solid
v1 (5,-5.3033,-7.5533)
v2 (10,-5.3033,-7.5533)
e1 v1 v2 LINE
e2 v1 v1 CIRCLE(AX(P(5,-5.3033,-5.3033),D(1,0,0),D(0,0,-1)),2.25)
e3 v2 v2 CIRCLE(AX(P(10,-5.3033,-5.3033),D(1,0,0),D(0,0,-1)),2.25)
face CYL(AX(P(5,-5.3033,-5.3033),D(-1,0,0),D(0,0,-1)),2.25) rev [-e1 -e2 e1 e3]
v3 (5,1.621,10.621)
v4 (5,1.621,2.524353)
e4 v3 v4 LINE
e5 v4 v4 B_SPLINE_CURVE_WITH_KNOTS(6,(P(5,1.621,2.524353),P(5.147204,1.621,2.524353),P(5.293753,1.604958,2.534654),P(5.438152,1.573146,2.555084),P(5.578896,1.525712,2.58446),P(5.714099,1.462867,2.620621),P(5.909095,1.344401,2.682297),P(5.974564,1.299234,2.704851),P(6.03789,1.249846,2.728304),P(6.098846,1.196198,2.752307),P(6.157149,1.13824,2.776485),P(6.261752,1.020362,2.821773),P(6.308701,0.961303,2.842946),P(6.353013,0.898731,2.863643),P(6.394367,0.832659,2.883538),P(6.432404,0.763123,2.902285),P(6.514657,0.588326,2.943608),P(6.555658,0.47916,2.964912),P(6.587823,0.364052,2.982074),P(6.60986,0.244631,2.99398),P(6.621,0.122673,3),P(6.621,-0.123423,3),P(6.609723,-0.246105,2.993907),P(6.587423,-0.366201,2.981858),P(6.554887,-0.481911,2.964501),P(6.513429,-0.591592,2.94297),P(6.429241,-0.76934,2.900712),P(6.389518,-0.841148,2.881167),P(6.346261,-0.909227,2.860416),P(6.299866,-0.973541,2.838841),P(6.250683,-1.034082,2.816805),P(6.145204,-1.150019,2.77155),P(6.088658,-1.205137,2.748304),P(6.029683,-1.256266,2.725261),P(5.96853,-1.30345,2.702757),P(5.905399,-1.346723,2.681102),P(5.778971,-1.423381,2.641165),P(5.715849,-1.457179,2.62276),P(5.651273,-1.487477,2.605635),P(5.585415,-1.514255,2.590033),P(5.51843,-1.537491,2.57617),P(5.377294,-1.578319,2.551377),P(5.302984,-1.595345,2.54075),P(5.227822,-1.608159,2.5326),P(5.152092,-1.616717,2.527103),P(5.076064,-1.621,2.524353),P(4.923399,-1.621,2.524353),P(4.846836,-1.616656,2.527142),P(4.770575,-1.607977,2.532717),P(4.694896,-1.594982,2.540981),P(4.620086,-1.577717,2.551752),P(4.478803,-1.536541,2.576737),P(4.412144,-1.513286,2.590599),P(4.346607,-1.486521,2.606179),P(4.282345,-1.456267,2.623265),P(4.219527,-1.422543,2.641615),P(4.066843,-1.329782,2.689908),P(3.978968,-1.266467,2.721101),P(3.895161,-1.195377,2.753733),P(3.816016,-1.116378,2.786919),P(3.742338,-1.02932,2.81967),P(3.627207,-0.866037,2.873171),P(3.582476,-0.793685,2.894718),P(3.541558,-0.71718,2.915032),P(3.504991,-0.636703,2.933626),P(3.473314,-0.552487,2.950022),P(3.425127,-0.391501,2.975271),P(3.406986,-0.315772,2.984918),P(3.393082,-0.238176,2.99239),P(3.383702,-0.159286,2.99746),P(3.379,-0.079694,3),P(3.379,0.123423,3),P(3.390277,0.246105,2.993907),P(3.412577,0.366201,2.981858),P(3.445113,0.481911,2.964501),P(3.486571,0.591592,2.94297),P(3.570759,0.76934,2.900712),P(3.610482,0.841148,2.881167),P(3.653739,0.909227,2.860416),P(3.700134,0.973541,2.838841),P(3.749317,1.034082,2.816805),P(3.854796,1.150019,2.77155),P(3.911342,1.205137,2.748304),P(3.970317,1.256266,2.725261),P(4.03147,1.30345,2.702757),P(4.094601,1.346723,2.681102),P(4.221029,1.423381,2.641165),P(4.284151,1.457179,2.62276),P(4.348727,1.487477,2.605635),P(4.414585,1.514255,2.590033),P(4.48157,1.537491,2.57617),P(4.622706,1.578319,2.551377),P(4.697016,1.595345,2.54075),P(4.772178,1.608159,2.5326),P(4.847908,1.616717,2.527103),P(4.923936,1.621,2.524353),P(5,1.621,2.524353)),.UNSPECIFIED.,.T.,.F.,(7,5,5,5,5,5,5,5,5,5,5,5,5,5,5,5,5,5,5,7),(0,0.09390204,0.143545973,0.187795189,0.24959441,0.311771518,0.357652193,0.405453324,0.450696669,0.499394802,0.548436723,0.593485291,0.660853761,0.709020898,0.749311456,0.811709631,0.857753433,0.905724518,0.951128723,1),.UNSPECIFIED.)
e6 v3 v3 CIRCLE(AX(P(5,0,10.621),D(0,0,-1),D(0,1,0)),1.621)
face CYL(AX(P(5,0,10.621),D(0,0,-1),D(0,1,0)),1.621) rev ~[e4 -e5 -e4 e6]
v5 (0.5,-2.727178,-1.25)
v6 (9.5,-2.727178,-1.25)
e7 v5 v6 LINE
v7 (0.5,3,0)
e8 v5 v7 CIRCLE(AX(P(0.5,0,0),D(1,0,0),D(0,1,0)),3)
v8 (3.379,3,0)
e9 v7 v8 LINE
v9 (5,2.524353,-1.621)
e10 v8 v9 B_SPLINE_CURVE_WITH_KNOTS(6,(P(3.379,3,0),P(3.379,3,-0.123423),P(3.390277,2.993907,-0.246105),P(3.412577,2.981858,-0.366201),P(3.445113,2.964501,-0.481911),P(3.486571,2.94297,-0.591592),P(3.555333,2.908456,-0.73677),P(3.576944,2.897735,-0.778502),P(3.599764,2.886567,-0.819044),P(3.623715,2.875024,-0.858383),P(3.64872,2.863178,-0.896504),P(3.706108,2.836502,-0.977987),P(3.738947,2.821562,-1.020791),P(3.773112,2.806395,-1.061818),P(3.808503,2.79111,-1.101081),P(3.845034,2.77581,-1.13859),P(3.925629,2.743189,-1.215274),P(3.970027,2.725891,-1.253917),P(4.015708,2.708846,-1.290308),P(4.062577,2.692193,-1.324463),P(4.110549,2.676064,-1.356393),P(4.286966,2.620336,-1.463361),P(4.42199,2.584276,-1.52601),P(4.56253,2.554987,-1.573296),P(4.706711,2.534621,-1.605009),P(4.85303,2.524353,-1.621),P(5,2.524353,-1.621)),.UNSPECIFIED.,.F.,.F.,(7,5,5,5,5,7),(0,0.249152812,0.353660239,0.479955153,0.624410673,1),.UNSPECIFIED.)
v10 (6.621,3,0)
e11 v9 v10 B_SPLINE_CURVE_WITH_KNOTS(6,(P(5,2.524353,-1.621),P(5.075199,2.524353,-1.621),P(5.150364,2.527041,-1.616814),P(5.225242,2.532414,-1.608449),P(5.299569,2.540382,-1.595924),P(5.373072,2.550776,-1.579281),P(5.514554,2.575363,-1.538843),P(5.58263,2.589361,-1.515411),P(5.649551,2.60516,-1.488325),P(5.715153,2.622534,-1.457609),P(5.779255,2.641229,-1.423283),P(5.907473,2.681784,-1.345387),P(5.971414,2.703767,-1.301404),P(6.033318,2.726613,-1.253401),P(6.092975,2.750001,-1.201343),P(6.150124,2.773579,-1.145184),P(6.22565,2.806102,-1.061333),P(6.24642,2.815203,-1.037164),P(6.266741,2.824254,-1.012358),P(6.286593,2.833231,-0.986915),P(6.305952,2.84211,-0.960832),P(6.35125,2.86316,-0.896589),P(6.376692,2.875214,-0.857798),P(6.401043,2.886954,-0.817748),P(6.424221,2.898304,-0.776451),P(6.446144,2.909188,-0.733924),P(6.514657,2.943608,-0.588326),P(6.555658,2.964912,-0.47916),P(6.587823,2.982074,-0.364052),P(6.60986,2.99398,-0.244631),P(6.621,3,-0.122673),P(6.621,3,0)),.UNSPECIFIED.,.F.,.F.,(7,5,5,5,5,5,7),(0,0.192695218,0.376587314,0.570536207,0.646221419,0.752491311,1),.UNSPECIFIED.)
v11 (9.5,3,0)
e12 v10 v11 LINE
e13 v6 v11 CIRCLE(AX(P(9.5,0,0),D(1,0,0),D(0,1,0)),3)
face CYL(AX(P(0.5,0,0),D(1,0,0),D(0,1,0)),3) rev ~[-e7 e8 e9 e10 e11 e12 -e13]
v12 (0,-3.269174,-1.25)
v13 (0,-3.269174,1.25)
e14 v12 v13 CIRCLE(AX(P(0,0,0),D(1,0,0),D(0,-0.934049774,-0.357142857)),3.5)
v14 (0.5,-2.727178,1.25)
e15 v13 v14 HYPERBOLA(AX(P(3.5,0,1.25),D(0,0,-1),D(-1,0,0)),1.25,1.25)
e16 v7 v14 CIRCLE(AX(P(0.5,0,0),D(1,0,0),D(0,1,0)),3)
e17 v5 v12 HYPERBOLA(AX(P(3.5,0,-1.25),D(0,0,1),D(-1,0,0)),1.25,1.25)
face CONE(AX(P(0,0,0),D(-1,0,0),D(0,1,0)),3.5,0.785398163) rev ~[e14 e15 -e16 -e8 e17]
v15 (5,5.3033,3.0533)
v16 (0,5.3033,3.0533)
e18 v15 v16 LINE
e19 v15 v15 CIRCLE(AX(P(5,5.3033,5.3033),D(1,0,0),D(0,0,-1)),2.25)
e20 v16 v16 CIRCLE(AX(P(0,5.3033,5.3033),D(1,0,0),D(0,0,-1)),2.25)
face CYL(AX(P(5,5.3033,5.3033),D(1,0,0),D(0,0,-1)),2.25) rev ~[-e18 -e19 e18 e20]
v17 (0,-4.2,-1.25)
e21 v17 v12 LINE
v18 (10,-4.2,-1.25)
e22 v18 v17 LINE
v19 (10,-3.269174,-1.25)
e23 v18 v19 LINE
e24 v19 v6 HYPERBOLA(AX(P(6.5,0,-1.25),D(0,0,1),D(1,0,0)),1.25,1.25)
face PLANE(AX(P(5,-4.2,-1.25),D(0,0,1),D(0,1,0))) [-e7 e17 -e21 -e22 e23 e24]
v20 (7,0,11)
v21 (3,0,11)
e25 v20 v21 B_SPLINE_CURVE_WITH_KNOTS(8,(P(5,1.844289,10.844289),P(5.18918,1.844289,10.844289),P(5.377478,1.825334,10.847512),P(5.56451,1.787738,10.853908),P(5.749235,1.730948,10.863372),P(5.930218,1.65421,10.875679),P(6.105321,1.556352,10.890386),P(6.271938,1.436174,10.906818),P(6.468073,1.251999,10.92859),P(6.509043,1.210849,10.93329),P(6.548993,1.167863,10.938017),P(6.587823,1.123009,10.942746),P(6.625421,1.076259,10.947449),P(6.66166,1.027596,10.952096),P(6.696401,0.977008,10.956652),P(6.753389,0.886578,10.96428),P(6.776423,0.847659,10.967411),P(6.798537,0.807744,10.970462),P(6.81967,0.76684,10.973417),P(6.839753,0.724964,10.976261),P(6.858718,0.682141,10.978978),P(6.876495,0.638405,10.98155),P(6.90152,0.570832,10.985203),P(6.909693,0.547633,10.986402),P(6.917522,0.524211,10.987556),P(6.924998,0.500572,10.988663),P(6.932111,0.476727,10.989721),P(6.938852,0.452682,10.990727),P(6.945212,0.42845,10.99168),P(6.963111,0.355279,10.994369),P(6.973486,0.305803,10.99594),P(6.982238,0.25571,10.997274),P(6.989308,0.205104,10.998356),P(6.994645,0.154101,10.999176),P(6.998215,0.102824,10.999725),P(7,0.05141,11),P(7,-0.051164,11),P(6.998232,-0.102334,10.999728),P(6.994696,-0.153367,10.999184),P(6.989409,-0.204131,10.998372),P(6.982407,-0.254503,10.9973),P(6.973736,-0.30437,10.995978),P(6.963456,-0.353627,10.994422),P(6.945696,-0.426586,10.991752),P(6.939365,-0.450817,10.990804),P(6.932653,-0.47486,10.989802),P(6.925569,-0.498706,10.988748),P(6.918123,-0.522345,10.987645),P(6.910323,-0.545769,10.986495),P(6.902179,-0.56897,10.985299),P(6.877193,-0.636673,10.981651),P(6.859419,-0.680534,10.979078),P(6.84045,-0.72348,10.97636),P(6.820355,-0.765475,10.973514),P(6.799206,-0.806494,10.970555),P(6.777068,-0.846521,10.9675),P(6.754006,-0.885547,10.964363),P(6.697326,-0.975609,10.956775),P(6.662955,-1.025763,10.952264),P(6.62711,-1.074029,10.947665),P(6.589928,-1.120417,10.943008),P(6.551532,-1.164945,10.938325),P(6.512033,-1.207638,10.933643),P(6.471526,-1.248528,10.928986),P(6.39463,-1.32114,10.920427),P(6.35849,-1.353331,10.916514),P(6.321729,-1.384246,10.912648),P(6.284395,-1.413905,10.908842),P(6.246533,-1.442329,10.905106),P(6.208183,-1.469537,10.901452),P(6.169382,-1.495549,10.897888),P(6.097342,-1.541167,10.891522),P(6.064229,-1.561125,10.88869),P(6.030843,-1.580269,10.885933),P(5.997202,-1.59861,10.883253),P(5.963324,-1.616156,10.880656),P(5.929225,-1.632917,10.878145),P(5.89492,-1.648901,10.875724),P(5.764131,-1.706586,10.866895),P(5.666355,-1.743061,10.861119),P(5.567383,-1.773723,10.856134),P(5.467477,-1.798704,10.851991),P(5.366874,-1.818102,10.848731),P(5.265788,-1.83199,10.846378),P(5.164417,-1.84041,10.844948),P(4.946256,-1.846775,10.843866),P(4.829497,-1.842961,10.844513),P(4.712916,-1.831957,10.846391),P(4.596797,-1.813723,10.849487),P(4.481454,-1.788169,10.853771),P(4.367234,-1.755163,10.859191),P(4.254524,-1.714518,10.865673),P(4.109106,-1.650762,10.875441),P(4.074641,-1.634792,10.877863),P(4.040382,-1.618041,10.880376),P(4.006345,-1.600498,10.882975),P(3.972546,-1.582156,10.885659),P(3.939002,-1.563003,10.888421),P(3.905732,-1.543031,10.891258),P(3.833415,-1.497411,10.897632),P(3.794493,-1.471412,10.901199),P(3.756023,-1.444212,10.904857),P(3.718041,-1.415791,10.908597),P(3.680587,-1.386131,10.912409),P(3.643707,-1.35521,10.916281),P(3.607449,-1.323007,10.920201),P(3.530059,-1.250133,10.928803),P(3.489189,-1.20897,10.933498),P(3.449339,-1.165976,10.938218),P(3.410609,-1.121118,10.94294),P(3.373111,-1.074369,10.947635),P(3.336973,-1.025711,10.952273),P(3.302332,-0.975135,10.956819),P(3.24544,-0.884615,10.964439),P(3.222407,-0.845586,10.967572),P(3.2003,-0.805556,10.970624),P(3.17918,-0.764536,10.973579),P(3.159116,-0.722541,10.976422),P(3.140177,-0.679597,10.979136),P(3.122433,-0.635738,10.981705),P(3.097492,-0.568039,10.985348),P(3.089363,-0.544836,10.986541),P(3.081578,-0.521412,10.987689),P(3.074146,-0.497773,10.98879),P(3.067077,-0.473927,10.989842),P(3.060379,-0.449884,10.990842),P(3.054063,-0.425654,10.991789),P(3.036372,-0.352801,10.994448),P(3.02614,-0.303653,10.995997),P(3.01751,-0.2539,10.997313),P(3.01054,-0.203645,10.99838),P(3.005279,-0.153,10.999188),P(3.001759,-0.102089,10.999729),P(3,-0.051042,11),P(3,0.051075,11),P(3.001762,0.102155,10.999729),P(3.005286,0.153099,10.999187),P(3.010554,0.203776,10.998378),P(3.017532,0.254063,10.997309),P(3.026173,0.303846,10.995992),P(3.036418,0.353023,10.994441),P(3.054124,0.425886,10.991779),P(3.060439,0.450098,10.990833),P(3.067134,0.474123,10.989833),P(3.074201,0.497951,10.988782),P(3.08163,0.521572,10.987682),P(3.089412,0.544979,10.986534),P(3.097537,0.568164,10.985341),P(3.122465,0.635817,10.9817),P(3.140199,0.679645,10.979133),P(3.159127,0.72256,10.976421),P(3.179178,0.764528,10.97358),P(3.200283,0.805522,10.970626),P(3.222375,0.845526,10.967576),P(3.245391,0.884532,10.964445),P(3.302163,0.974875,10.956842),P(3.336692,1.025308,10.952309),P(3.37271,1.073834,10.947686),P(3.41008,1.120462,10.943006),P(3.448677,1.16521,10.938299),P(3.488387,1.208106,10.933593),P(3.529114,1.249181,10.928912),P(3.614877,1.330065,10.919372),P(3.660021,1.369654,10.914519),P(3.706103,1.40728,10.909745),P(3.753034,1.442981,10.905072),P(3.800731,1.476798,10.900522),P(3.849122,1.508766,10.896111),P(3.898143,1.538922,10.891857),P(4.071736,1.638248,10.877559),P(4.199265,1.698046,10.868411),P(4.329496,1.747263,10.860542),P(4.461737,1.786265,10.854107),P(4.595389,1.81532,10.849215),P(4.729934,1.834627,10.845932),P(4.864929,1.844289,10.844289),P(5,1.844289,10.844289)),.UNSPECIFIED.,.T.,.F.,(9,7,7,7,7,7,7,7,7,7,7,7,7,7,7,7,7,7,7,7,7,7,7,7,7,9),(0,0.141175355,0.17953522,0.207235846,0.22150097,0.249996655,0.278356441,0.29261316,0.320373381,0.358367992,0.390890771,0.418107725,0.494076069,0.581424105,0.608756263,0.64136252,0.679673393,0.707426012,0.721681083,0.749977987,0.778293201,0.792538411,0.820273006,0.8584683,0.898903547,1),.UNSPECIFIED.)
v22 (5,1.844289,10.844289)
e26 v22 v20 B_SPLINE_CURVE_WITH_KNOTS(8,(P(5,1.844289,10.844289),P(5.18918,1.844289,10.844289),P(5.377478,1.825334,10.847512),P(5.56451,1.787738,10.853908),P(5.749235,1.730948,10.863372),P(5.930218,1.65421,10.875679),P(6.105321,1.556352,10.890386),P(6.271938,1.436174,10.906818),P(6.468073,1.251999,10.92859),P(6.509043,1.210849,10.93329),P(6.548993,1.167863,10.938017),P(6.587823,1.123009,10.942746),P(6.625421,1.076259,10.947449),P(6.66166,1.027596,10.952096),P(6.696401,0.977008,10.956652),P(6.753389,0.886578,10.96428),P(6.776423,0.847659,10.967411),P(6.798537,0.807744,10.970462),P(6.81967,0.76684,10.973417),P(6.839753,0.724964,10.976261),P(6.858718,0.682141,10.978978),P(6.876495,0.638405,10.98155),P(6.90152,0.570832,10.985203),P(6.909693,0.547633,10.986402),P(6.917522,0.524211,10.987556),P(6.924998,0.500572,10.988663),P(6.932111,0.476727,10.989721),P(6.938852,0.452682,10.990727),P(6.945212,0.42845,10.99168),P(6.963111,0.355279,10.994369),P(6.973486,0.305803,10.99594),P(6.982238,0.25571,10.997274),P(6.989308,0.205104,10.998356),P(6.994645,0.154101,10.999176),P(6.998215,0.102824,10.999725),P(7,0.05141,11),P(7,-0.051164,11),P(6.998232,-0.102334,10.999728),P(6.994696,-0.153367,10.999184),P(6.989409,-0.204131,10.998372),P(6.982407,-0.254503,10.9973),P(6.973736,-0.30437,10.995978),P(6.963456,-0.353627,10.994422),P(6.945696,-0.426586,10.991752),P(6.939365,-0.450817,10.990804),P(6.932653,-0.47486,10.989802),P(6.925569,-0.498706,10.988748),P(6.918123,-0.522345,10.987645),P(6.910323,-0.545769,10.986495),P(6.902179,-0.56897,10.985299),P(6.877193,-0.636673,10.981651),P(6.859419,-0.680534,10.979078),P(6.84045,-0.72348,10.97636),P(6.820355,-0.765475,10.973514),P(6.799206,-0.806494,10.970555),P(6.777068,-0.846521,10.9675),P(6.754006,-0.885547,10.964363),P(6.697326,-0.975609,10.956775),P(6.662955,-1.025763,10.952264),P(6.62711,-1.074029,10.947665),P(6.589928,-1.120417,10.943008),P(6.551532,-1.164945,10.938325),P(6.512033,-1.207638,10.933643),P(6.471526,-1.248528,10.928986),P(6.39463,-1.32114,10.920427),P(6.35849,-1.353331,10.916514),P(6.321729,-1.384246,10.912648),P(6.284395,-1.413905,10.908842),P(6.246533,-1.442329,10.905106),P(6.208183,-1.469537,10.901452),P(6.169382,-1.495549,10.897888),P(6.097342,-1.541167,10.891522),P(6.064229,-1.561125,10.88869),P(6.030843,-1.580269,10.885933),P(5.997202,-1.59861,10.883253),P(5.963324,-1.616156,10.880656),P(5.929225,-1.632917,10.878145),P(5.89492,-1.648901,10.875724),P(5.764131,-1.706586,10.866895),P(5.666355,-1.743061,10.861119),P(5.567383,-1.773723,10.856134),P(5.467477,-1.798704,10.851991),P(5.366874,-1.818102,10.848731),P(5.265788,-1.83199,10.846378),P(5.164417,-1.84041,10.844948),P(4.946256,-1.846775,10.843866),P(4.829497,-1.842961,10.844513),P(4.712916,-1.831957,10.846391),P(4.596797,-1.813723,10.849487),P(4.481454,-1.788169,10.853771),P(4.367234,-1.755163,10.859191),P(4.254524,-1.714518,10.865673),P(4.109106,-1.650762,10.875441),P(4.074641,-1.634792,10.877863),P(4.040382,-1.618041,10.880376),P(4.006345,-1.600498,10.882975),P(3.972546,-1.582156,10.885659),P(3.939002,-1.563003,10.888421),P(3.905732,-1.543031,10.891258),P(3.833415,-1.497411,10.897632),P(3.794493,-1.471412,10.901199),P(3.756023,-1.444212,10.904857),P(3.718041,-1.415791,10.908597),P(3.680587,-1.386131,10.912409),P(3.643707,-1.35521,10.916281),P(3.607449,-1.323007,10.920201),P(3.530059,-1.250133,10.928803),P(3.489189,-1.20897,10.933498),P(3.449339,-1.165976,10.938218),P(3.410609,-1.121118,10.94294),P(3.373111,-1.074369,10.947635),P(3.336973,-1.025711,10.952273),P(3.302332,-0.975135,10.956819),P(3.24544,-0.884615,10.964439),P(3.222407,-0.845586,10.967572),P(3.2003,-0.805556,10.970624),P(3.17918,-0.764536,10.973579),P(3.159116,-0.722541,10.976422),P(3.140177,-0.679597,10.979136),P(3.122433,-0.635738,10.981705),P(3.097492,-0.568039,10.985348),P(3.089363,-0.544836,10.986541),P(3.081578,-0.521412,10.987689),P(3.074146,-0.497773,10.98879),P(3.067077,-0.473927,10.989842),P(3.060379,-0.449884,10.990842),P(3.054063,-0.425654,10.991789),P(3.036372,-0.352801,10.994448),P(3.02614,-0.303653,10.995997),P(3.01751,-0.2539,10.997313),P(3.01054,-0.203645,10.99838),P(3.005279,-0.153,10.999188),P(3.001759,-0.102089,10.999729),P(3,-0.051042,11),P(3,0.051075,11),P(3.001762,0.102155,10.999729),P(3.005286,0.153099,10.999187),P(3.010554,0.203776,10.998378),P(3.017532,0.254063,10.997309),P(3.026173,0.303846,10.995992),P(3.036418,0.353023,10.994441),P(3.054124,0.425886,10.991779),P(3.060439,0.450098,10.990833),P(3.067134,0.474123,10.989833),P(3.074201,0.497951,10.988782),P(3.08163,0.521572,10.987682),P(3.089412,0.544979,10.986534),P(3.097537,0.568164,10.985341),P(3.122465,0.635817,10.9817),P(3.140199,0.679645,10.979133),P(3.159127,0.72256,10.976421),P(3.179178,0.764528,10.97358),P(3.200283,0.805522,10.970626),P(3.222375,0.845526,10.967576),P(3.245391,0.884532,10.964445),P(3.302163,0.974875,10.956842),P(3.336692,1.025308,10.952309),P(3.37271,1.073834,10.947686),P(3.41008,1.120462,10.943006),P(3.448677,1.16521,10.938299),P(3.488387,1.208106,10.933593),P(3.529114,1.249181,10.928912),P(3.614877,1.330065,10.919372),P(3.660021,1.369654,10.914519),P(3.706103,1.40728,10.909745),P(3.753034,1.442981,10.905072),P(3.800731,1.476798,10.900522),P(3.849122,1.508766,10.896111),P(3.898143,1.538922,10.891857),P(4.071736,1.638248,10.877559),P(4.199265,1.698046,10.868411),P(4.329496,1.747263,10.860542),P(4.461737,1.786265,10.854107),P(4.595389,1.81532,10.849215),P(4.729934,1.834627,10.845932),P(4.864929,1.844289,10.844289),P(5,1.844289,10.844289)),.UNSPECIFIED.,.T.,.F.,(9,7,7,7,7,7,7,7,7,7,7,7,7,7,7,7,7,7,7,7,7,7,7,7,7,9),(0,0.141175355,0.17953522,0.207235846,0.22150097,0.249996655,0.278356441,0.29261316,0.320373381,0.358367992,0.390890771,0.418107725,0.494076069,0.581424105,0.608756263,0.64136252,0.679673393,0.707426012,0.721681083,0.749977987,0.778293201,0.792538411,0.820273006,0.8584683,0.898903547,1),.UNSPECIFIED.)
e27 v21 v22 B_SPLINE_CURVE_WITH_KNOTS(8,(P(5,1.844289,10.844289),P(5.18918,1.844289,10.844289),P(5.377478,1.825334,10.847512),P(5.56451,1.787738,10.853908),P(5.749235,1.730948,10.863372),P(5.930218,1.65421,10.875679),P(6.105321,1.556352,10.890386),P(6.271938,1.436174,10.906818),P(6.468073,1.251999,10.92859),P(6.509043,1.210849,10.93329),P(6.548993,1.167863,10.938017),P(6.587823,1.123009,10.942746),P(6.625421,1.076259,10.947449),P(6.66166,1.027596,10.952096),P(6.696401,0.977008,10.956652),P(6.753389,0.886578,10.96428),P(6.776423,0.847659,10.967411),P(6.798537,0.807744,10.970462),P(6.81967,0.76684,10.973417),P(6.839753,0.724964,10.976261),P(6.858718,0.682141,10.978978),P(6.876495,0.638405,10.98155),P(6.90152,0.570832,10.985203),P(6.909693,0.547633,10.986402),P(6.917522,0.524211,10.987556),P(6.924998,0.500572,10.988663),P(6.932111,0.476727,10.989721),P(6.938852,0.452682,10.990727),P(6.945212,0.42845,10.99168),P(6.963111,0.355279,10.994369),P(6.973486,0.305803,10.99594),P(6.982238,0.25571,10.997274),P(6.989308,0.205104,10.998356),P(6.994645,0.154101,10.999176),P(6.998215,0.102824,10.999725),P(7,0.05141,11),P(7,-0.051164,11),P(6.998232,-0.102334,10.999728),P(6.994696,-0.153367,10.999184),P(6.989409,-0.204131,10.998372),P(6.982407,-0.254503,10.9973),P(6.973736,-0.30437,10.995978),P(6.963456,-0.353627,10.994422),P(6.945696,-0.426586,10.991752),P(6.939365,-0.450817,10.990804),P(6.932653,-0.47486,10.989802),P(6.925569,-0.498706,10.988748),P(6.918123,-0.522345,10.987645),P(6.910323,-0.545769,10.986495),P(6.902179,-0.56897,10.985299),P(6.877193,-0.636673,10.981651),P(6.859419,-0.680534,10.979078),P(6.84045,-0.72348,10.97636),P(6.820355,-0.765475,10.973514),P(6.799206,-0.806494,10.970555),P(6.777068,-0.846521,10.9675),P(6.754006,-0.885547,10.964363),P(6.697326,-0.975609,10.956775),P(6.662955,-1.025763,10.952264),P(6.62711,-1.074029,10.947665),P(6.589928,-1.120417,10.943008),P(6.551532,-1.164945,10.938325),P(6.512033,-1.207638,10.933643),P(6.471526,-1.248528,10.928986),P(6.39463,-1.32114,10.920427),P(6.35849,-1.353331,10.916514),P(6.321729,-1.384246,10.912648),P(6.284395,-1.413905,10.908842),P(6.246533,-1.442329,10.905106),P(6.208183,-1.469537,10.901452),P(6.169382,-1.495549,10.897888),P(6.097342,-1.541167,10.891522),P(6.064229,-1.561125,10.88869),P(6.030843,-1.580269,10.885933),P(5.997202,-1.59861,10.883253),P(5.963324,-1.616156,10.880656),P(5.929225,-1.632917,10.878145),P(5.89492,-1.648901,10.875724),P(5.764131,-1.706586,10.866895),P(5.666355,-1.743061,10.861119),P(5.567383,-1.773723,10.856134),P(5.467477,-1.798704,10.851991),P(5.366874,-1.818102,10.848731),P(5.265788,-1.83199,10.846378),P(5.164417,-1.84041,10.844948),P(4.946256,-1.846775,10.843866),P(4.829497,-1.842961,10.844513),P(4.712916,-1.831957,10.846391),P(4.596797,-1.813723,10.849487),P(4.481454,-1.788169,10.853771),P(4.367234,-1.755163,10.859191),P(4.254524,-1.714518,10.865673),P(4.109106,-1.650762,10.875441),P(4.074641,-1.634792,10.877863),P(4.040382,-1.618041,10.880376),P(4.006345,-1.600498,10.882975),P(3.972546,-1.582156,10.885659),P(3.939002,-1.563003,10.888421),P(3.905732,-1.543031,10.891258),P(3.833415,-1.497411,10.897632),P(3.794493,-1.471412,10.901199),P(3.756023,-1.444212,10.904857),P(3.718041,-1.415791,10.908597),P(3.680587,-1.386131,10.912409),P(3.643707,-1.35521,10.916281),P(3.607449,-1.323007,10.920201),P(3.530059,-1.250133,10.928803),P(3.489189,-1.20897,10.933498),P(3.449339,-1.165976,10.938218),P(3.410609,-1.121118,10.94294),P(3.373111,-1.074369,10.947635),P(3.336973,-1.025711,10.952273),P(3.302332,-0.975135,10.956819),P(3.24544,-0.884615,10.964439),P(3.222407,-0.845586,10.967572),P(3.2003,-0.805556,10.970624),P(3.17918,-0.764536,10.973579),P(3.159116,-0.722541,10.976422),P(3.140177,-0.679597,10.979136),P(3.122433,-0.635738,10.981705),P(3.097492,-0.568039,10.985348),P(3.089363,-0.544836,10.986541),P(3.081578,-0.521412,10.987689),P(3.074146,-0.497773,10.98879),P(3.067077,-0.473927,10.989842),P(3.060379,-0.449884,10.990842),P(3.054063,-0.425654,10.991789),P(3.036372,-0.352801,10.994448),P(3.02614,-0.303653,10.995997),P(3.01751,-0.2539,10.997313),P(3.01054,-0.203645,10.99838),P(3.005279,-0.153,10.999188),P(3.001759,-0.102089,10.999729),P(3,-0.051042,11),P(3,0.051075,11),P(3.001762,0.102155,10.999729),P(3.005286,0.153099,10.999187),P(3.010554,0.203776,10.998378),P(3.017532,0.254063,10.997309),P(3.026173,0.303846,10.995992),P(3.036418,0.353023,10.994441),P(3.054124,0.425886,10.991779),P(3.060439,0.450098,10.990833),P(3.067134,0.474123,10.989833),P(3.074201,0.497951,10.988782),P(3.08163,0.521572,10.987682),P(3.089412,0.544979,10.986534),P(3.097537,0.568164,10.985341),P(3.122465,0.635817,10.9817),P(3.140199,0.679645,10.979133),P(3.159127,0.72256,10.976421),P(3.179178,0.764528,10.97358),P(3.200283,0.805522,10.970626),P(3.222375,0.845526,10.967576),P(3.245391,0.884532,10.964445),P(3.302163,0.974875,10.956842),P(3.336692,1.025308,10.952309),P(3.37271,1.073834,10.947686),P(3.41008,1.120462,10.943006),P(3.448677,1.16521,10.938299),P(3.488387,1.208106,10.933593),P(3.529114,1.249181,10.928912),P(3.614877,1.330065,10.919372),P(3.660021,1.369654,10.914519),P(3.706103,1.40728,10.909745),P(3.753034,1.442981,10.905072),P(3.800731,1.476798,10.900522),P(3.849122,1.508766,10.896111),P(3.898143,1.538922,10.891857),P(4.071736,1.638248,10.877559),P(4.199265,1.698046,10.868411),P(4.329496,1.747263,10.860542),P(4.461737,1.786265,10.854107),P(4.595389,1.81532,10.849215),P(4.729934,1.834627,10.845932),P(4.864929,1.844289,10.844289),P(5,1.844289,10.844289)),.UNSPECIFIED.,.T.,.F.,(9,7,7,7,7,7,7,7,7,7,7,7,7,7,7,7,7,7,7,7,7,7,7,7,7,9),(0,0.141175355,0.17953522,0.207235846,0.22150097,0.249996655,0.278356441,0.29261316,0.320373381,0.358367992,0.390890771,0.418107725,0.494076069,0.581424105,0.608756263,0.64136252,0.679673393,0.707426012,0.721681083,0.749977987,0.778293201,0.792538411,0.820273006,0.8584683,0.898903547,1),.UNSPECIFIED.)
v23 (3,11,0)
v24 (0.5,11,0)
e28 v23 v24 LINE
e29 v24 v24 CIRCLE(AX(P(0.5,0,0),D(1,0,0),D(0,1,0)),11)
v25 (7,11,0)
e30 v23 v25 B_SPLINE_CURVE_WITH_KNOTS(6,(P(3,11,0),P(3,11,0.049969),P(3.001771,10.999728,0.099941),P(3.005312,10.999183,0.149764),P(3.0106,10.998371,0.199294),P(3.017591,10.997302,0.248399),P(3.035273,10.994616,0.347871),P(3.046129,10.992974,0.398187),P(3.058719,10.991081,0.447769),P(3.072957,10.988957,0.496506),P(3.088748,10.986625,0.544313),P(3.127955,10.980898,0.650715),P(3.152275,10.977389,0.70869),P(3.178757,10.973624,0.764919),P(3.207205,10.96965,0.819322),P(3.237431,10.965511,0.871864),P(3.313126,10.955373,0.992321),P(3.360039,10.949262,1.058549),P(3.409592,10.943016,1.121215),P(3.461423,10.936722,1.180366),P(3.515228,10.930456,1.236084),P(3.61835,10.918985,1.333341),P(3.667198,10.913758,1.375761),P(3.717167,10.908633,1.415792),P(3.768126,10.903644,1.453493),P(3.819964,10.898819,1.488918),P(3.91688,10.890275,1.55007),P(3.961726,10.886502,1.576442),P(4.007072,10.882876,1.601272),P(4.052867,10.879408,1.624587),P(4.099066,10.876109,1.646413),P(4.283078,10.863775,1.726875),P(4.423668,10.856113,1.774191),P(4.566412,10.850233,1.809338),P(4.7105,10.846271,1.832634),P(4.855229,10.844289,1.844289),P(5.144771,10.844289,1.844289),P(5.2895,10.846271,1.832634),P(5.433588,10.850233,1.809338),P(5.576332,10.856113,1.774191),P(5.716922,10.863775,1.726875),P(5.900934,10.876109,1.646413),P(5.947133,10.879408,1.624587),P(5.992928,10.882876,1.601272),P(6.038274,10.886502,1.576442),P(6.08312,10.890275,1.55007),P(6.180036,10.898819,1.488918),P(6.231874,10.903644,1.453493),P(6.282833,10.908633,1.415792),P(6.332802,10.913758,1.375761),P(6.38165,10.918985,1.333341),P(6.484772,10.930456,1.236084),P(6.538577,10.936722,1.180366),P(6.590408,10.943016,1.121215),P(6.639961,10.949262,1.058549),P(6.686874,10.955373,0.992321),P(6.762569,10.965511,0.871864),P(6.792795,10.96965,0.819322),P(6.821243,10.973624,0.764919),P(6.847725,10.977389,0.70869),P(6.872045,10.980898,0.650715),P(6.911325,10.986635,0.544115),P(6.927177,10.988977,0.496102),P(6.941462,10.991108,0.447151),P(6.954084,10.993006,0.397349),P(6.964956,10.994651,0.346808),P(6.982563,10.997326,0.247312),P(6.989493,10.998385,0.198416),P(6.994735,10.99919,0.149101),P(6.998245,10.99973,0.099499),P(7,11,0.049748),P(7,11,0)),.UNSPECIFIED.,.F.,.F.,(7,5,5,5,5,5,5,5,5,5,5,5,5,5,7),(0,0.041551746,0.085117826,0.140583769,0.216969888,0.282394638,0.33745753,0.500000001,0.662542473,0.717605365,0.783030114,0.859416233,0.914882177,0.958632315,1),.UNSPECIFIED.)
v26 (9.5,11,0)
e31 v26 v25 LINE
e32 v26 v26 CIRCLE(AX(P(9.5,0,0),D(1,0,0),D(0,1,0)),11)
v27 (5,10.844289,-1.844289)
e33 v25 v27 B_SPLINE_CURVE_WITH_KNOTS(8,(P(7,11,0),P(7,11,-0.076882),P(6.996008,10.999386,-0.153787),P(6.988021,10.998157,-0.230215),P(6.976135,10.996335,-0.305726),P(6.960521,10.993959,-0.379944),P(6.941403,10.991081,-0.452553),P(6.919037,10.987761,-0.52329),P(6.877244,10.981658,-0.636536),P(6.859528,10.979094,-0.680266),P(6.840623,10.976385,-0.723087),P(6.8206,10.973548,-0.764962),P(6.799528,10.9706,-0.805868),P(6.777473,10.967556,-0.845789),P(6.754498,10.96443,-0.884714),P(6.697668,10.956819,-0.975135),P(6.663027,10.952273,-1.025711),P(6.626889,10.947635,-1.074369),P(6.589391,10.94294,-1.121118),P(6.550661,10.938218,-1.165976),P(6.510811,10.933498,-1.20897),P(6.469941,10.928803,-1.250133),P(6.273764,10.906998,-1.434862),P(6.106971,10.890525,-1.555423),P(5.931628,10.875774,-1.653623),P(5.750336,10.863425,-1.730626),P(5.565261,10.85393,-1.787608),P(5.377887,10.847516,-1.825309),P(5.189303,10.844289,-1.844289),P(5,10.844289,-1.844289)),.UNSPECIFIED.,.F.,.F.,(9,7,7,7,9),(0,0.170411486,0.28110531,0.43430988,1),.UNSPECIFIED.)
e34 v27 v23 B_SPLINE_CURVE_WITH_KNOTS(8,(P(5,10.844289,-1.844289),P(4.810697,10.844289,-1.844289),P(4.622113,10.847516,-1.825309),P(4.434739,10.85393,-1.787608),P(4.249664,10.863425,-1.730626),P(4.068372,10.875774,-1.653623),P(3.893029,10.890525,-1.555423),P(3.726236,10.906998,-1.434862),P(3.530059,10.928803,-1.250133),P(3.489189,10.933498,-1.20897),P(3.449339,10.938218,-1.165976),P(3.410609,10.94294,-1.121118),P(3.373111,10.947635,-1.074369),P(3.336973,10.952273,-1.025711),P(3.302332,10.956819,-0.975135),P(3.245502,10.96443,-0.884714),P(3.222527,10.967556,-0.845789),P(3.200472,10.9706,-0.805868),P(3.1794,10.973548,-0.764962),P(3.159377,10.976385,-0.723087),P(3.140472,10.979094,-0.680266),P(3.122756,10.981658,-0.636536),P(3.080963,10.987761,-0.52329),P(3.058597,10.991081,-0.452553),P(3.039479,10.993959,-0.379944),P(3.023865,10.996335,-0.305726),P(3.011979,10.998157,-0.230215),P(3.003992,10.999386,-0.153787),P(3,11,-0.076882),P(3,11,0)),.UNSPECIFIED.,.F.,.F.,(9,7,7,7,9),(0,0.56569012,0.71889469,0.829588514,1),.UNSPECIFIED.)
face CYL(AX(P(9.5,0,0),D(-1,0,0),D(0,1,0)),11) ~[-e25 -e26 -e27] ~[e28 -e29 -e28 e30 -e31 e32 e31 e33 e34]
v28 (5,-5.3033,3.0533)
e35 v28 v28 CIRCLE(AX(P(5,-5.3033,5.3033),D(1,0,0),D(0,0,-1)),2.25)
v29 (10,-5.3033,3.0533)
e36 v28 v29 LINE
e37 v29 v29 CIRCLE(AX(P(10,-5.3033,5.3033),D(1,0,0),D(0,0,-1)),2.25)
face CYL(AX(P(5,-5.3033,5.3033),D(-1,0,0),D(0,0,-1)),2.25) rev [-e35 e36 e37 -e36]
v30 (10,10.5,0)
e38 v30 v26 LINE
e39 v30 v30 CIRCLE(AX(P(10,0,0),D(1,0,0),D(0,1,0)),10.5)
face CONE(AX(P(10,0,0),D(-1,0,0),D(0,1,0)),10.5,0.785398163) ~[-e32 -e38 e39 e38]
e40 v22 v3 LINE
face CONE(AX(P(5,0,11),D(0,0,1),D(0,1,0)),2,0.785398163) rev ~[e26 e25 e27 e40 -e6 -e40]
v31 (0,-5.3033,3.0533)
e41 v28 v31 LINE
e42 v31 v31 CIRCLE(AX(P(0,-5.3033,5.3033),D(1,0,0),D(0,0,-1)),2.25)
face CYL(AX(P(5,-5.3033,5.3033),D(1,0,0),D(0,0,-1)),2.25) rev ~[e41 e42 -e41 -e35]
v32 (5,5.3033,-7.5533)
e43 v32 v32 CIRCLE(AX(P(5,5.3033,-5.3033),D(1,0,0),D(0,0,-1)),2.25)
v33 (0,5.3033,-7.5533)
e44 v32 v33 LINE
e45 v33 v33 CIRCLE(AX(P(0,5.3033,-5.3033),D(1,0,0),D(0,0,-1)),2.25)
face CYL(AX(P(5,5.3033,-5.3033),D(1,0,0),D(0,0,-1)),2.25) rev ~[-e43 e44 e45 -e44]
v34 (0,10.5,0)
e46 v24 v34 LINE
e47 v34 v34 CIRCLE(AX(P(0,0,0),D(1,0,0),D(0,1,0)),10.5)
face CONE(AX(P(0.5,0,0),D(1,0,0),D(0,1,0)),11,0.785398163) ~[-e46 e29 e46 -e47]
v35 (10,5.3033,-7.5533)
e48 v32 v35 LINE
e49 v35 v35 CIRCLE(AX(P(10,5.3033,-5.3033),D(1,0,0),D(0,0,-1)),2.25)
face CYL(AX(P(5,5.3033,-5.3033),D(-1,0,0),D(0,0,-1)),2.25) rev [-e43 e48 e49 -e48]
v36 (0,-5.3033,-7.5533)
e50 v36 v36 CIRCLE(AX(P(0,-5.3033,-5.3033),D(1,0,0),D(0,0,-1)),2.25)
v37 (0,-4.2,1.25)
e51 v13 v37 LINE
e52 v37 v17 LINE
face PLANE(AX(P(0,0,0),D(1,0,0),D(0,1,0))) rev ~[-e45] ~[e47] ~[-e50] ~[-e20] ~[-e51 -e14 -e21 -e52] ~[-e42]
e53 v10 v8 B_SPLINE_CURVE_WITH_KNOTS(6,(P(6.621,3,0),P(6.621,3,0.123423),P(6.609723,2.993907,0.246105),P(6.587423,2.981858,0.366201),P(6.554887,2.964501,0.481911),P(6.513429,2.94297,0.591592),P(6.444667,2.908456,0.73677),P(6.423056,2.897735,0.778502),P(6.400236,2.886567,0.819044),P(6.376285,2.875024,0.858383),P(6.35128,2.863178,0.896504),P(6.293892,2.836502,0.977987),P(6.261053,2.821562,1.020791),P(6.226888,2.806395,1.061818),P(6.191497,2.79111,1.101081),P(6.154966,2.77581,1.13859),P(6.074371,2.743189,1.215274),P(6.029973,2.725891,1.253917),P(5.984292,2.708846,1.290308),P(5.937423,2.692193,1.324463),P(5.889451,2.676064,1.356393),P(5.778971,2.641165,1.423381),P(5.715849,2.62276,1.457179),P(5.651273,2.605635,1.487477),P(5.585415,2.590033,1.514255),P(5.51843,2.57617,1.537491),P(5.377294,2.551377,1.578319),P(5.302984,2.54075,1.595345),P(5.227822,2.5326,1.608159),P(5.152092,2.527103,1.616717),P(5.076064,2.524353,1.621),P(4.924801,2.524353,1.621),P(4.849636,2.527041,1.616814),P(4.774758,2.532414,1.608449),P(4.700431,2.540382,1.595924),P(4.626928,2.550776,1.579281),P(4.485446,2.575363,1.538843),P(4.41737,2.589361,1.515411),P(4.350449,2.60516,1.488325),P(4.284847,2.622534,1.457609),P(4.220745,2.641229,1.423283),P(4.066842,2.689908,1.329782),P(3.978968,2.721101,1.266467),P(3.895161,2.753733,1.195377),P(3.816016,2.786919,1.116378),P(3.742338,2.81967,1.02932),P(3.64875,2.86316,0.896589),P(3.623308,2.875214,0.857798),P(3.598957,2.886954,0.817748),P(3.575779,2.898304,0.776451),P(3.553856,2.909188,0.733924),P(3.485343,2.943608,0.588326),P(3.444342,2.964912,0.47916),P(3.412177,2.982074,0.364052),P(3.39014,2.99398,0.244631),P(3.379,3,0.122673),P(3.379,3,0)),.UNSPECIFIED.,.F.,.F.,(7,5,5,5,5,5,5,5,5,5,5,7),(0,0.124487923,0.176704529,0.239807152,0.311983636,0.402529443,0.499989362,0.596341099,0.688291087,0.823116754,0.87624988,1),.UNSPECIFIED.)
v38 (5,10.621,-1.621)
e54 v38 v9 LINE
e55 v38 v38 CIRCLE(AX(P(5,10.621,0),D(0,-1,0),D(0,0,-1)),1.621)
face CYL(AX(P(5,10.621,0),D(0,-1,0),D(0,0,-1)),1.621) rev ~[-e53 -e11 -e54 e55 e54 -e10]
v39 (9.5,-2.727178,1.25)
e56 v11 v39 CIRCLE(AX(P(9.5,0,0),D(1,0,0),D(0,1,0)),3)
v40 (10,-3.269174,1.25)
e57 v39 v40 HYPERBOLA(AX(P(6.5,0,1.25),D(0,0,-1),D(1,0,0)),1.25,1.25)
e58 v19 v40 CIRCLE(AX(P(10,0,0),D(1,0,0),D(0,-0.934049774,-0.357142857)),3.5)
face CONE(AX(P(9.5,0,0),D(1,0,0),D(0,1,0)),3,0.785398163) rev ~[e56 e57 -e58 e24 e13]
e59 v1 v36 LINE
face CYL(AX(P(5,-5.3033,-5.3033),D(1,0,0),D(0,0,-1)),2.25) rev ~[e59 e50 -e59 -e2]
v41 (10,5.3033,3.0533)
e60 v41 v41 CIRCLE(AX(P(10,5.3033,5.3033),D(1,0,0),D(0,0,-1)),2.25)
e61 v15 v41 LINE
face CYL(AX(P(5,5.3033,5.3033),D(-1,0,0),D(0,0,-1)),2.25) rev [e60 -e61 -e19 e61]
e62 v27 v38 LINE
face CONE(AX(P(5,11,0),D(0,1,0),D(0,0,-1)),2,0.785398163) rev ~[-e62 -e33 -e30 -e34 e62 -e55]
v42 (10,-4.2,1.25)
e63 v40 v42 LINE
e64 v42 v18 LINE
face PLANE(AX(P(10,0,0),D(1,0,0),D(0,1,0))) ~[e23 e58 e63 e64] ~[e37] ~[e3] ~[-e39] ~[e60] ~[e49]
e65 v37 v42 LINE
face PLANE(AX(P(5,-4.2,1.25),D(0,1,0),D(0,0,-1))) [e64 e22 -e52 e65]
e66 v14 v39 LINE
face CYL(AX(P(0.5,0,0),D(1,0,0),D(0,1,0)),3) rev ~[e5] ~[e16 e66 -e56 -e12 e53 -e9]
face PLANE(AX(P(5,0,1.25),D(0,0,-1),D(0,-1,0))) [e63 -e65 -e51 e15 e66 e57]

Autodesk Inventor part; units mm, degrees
sketch "Sketch_1" plane through (0, 0, 0) normal (0, 0, 1) x (1, 0, 0)
  line L0 (10, 0) -> (0, 0)
  line L1 (0, 3.5) -> (0.5, 3)
  line L2 (0.5, 3) -> (9.5, 3)
  line L3 (9.5, 3) -> (10, 3.5)
  line L4 (10, 3.5) -> (10, 10.5)
  line L5 (10, 10.5) -> (9.5, 11)
  line L6 (9.5, 11) -> (0.5, 11)
  line L7 (0.5, 11) -> (0, 10.5)
  line L8 (0, 10.5) -> (0, 3.5)
revolve "Revolution1" add sketch "Sketch_1" angle 360 about axis through (10, 0, 0) along (1, 0, 0)
sketch "Sketch_4" plane through (5, 0, 0) normal (1, 0, 0) x (0, 0, -1)
  line L0 (0, 1.5) -> (0, 11)
  line L1 (0, 11) -> (2, 11)
  line L2 (2, 11) -> (1.621, 10.621)
  line L3 (1.621, 10.621) -> (1.621, 1.5)
  line L4 (1.621, 1.5) -> (0, 1.5)
  line L5 (0, 1.5) -> (0, 11)
revolve "Revolution2" cut sketch "Sketch_4" angle 360 about axis through (5, 1.5, 0) along (0, -1, 0)
thread "Thread1" size "M4x0.7" class "6H" standard "ISO Metric profile" length 7.621
sketch "Sketch_3" plane through (5, 0, 0) normal (1, 0, 0) x (0, 0, -1)
  line L0 (-1.5, 0) -> (-11, 0)
  line L1 (-11, 0) -> (-11, 2)
  line L2 (-11, 2) -> (-10.621, 1.621)
  line L3 (-10.621, 1.621) -> (-1.5, 1.621)
  line L4 (-1.5, 1.621) -> (-1.5, 0)
  line L5 (-1.5, 0) -> (-11, 0)
revolve "Revolution3" cut sketch "Sketch_3" angle 360 about axis through (5, 0, 1.5) along (0, 0, -1)
thread "Thread2" size "M4x0.7" class "6H" standard "ISO Metric profile" length 7.621
sketch "Sketch_2" plane through (5, 0, 0) normal (1, 0, 0) x (0, 0, -1)
  line L0 (-1.25, 0) -> (-1.25, -4.2)
  line L1 (-1.25, -4.2) -> (1.25, -4.2)
  line L2 (1.25, -4.2) -> (1.25, 0)
  line L3 (1.25, 0) -> (-1.25, 0)
extrude "Extrusion1" cut sketch "Sketch_2" along normal mid plane 10
sketch "Sketch_6" plane through (5, 0, 0) normal (1, 0, 0) x (0, 0, -1)
  circle A0 centre (5.3033, 5.3033) radius 2.25
extrude "Extrusion2" cut sketch "Sketch_6" along normal mid plane 10
sketch "Sketch_7" plane through (5, 0, 0) normal (1, 0, 0) x (0, 0, -1)
  circle A0 centre (-5.3033, 5.3033) radius 2.25
extrude "Extrusion3" cut sketch "Sketch_7" along normal mid plane 10
sketch "Sketch_8" plane through (5, 0, 0) normal (1, 0, 0) x (0, 0, -1)
  circle A0 centre (-5.3033, -5.3033) radius 2.25
extrude "Extrusion4" cut sketch "Sketch_8" along normal mid plane 10
sketch "Sketch_9" plane through (5, 0, 0) normal (1, 0, 0) x (0, 0, -1)
  circle A0 centre (5.3033, -5.3033) radius 2.25
extrude "Extrusion5" cut sketch "Sketch_9" along normal mid plane 10
ref_plane "part_XY" through (0, 0, 0) normal (-1, 0, 0) x (0, 0, -1)
ref_plane "part_YZ" through (0, 0, 0) normal (0, 0, -1) x (0, -1, 0)
ref_plane "part_ZX" through (0, 0, 0) normal (0, -1, 0) x (-1, 0, 0)
properties part number "SC  0610CKP4"
